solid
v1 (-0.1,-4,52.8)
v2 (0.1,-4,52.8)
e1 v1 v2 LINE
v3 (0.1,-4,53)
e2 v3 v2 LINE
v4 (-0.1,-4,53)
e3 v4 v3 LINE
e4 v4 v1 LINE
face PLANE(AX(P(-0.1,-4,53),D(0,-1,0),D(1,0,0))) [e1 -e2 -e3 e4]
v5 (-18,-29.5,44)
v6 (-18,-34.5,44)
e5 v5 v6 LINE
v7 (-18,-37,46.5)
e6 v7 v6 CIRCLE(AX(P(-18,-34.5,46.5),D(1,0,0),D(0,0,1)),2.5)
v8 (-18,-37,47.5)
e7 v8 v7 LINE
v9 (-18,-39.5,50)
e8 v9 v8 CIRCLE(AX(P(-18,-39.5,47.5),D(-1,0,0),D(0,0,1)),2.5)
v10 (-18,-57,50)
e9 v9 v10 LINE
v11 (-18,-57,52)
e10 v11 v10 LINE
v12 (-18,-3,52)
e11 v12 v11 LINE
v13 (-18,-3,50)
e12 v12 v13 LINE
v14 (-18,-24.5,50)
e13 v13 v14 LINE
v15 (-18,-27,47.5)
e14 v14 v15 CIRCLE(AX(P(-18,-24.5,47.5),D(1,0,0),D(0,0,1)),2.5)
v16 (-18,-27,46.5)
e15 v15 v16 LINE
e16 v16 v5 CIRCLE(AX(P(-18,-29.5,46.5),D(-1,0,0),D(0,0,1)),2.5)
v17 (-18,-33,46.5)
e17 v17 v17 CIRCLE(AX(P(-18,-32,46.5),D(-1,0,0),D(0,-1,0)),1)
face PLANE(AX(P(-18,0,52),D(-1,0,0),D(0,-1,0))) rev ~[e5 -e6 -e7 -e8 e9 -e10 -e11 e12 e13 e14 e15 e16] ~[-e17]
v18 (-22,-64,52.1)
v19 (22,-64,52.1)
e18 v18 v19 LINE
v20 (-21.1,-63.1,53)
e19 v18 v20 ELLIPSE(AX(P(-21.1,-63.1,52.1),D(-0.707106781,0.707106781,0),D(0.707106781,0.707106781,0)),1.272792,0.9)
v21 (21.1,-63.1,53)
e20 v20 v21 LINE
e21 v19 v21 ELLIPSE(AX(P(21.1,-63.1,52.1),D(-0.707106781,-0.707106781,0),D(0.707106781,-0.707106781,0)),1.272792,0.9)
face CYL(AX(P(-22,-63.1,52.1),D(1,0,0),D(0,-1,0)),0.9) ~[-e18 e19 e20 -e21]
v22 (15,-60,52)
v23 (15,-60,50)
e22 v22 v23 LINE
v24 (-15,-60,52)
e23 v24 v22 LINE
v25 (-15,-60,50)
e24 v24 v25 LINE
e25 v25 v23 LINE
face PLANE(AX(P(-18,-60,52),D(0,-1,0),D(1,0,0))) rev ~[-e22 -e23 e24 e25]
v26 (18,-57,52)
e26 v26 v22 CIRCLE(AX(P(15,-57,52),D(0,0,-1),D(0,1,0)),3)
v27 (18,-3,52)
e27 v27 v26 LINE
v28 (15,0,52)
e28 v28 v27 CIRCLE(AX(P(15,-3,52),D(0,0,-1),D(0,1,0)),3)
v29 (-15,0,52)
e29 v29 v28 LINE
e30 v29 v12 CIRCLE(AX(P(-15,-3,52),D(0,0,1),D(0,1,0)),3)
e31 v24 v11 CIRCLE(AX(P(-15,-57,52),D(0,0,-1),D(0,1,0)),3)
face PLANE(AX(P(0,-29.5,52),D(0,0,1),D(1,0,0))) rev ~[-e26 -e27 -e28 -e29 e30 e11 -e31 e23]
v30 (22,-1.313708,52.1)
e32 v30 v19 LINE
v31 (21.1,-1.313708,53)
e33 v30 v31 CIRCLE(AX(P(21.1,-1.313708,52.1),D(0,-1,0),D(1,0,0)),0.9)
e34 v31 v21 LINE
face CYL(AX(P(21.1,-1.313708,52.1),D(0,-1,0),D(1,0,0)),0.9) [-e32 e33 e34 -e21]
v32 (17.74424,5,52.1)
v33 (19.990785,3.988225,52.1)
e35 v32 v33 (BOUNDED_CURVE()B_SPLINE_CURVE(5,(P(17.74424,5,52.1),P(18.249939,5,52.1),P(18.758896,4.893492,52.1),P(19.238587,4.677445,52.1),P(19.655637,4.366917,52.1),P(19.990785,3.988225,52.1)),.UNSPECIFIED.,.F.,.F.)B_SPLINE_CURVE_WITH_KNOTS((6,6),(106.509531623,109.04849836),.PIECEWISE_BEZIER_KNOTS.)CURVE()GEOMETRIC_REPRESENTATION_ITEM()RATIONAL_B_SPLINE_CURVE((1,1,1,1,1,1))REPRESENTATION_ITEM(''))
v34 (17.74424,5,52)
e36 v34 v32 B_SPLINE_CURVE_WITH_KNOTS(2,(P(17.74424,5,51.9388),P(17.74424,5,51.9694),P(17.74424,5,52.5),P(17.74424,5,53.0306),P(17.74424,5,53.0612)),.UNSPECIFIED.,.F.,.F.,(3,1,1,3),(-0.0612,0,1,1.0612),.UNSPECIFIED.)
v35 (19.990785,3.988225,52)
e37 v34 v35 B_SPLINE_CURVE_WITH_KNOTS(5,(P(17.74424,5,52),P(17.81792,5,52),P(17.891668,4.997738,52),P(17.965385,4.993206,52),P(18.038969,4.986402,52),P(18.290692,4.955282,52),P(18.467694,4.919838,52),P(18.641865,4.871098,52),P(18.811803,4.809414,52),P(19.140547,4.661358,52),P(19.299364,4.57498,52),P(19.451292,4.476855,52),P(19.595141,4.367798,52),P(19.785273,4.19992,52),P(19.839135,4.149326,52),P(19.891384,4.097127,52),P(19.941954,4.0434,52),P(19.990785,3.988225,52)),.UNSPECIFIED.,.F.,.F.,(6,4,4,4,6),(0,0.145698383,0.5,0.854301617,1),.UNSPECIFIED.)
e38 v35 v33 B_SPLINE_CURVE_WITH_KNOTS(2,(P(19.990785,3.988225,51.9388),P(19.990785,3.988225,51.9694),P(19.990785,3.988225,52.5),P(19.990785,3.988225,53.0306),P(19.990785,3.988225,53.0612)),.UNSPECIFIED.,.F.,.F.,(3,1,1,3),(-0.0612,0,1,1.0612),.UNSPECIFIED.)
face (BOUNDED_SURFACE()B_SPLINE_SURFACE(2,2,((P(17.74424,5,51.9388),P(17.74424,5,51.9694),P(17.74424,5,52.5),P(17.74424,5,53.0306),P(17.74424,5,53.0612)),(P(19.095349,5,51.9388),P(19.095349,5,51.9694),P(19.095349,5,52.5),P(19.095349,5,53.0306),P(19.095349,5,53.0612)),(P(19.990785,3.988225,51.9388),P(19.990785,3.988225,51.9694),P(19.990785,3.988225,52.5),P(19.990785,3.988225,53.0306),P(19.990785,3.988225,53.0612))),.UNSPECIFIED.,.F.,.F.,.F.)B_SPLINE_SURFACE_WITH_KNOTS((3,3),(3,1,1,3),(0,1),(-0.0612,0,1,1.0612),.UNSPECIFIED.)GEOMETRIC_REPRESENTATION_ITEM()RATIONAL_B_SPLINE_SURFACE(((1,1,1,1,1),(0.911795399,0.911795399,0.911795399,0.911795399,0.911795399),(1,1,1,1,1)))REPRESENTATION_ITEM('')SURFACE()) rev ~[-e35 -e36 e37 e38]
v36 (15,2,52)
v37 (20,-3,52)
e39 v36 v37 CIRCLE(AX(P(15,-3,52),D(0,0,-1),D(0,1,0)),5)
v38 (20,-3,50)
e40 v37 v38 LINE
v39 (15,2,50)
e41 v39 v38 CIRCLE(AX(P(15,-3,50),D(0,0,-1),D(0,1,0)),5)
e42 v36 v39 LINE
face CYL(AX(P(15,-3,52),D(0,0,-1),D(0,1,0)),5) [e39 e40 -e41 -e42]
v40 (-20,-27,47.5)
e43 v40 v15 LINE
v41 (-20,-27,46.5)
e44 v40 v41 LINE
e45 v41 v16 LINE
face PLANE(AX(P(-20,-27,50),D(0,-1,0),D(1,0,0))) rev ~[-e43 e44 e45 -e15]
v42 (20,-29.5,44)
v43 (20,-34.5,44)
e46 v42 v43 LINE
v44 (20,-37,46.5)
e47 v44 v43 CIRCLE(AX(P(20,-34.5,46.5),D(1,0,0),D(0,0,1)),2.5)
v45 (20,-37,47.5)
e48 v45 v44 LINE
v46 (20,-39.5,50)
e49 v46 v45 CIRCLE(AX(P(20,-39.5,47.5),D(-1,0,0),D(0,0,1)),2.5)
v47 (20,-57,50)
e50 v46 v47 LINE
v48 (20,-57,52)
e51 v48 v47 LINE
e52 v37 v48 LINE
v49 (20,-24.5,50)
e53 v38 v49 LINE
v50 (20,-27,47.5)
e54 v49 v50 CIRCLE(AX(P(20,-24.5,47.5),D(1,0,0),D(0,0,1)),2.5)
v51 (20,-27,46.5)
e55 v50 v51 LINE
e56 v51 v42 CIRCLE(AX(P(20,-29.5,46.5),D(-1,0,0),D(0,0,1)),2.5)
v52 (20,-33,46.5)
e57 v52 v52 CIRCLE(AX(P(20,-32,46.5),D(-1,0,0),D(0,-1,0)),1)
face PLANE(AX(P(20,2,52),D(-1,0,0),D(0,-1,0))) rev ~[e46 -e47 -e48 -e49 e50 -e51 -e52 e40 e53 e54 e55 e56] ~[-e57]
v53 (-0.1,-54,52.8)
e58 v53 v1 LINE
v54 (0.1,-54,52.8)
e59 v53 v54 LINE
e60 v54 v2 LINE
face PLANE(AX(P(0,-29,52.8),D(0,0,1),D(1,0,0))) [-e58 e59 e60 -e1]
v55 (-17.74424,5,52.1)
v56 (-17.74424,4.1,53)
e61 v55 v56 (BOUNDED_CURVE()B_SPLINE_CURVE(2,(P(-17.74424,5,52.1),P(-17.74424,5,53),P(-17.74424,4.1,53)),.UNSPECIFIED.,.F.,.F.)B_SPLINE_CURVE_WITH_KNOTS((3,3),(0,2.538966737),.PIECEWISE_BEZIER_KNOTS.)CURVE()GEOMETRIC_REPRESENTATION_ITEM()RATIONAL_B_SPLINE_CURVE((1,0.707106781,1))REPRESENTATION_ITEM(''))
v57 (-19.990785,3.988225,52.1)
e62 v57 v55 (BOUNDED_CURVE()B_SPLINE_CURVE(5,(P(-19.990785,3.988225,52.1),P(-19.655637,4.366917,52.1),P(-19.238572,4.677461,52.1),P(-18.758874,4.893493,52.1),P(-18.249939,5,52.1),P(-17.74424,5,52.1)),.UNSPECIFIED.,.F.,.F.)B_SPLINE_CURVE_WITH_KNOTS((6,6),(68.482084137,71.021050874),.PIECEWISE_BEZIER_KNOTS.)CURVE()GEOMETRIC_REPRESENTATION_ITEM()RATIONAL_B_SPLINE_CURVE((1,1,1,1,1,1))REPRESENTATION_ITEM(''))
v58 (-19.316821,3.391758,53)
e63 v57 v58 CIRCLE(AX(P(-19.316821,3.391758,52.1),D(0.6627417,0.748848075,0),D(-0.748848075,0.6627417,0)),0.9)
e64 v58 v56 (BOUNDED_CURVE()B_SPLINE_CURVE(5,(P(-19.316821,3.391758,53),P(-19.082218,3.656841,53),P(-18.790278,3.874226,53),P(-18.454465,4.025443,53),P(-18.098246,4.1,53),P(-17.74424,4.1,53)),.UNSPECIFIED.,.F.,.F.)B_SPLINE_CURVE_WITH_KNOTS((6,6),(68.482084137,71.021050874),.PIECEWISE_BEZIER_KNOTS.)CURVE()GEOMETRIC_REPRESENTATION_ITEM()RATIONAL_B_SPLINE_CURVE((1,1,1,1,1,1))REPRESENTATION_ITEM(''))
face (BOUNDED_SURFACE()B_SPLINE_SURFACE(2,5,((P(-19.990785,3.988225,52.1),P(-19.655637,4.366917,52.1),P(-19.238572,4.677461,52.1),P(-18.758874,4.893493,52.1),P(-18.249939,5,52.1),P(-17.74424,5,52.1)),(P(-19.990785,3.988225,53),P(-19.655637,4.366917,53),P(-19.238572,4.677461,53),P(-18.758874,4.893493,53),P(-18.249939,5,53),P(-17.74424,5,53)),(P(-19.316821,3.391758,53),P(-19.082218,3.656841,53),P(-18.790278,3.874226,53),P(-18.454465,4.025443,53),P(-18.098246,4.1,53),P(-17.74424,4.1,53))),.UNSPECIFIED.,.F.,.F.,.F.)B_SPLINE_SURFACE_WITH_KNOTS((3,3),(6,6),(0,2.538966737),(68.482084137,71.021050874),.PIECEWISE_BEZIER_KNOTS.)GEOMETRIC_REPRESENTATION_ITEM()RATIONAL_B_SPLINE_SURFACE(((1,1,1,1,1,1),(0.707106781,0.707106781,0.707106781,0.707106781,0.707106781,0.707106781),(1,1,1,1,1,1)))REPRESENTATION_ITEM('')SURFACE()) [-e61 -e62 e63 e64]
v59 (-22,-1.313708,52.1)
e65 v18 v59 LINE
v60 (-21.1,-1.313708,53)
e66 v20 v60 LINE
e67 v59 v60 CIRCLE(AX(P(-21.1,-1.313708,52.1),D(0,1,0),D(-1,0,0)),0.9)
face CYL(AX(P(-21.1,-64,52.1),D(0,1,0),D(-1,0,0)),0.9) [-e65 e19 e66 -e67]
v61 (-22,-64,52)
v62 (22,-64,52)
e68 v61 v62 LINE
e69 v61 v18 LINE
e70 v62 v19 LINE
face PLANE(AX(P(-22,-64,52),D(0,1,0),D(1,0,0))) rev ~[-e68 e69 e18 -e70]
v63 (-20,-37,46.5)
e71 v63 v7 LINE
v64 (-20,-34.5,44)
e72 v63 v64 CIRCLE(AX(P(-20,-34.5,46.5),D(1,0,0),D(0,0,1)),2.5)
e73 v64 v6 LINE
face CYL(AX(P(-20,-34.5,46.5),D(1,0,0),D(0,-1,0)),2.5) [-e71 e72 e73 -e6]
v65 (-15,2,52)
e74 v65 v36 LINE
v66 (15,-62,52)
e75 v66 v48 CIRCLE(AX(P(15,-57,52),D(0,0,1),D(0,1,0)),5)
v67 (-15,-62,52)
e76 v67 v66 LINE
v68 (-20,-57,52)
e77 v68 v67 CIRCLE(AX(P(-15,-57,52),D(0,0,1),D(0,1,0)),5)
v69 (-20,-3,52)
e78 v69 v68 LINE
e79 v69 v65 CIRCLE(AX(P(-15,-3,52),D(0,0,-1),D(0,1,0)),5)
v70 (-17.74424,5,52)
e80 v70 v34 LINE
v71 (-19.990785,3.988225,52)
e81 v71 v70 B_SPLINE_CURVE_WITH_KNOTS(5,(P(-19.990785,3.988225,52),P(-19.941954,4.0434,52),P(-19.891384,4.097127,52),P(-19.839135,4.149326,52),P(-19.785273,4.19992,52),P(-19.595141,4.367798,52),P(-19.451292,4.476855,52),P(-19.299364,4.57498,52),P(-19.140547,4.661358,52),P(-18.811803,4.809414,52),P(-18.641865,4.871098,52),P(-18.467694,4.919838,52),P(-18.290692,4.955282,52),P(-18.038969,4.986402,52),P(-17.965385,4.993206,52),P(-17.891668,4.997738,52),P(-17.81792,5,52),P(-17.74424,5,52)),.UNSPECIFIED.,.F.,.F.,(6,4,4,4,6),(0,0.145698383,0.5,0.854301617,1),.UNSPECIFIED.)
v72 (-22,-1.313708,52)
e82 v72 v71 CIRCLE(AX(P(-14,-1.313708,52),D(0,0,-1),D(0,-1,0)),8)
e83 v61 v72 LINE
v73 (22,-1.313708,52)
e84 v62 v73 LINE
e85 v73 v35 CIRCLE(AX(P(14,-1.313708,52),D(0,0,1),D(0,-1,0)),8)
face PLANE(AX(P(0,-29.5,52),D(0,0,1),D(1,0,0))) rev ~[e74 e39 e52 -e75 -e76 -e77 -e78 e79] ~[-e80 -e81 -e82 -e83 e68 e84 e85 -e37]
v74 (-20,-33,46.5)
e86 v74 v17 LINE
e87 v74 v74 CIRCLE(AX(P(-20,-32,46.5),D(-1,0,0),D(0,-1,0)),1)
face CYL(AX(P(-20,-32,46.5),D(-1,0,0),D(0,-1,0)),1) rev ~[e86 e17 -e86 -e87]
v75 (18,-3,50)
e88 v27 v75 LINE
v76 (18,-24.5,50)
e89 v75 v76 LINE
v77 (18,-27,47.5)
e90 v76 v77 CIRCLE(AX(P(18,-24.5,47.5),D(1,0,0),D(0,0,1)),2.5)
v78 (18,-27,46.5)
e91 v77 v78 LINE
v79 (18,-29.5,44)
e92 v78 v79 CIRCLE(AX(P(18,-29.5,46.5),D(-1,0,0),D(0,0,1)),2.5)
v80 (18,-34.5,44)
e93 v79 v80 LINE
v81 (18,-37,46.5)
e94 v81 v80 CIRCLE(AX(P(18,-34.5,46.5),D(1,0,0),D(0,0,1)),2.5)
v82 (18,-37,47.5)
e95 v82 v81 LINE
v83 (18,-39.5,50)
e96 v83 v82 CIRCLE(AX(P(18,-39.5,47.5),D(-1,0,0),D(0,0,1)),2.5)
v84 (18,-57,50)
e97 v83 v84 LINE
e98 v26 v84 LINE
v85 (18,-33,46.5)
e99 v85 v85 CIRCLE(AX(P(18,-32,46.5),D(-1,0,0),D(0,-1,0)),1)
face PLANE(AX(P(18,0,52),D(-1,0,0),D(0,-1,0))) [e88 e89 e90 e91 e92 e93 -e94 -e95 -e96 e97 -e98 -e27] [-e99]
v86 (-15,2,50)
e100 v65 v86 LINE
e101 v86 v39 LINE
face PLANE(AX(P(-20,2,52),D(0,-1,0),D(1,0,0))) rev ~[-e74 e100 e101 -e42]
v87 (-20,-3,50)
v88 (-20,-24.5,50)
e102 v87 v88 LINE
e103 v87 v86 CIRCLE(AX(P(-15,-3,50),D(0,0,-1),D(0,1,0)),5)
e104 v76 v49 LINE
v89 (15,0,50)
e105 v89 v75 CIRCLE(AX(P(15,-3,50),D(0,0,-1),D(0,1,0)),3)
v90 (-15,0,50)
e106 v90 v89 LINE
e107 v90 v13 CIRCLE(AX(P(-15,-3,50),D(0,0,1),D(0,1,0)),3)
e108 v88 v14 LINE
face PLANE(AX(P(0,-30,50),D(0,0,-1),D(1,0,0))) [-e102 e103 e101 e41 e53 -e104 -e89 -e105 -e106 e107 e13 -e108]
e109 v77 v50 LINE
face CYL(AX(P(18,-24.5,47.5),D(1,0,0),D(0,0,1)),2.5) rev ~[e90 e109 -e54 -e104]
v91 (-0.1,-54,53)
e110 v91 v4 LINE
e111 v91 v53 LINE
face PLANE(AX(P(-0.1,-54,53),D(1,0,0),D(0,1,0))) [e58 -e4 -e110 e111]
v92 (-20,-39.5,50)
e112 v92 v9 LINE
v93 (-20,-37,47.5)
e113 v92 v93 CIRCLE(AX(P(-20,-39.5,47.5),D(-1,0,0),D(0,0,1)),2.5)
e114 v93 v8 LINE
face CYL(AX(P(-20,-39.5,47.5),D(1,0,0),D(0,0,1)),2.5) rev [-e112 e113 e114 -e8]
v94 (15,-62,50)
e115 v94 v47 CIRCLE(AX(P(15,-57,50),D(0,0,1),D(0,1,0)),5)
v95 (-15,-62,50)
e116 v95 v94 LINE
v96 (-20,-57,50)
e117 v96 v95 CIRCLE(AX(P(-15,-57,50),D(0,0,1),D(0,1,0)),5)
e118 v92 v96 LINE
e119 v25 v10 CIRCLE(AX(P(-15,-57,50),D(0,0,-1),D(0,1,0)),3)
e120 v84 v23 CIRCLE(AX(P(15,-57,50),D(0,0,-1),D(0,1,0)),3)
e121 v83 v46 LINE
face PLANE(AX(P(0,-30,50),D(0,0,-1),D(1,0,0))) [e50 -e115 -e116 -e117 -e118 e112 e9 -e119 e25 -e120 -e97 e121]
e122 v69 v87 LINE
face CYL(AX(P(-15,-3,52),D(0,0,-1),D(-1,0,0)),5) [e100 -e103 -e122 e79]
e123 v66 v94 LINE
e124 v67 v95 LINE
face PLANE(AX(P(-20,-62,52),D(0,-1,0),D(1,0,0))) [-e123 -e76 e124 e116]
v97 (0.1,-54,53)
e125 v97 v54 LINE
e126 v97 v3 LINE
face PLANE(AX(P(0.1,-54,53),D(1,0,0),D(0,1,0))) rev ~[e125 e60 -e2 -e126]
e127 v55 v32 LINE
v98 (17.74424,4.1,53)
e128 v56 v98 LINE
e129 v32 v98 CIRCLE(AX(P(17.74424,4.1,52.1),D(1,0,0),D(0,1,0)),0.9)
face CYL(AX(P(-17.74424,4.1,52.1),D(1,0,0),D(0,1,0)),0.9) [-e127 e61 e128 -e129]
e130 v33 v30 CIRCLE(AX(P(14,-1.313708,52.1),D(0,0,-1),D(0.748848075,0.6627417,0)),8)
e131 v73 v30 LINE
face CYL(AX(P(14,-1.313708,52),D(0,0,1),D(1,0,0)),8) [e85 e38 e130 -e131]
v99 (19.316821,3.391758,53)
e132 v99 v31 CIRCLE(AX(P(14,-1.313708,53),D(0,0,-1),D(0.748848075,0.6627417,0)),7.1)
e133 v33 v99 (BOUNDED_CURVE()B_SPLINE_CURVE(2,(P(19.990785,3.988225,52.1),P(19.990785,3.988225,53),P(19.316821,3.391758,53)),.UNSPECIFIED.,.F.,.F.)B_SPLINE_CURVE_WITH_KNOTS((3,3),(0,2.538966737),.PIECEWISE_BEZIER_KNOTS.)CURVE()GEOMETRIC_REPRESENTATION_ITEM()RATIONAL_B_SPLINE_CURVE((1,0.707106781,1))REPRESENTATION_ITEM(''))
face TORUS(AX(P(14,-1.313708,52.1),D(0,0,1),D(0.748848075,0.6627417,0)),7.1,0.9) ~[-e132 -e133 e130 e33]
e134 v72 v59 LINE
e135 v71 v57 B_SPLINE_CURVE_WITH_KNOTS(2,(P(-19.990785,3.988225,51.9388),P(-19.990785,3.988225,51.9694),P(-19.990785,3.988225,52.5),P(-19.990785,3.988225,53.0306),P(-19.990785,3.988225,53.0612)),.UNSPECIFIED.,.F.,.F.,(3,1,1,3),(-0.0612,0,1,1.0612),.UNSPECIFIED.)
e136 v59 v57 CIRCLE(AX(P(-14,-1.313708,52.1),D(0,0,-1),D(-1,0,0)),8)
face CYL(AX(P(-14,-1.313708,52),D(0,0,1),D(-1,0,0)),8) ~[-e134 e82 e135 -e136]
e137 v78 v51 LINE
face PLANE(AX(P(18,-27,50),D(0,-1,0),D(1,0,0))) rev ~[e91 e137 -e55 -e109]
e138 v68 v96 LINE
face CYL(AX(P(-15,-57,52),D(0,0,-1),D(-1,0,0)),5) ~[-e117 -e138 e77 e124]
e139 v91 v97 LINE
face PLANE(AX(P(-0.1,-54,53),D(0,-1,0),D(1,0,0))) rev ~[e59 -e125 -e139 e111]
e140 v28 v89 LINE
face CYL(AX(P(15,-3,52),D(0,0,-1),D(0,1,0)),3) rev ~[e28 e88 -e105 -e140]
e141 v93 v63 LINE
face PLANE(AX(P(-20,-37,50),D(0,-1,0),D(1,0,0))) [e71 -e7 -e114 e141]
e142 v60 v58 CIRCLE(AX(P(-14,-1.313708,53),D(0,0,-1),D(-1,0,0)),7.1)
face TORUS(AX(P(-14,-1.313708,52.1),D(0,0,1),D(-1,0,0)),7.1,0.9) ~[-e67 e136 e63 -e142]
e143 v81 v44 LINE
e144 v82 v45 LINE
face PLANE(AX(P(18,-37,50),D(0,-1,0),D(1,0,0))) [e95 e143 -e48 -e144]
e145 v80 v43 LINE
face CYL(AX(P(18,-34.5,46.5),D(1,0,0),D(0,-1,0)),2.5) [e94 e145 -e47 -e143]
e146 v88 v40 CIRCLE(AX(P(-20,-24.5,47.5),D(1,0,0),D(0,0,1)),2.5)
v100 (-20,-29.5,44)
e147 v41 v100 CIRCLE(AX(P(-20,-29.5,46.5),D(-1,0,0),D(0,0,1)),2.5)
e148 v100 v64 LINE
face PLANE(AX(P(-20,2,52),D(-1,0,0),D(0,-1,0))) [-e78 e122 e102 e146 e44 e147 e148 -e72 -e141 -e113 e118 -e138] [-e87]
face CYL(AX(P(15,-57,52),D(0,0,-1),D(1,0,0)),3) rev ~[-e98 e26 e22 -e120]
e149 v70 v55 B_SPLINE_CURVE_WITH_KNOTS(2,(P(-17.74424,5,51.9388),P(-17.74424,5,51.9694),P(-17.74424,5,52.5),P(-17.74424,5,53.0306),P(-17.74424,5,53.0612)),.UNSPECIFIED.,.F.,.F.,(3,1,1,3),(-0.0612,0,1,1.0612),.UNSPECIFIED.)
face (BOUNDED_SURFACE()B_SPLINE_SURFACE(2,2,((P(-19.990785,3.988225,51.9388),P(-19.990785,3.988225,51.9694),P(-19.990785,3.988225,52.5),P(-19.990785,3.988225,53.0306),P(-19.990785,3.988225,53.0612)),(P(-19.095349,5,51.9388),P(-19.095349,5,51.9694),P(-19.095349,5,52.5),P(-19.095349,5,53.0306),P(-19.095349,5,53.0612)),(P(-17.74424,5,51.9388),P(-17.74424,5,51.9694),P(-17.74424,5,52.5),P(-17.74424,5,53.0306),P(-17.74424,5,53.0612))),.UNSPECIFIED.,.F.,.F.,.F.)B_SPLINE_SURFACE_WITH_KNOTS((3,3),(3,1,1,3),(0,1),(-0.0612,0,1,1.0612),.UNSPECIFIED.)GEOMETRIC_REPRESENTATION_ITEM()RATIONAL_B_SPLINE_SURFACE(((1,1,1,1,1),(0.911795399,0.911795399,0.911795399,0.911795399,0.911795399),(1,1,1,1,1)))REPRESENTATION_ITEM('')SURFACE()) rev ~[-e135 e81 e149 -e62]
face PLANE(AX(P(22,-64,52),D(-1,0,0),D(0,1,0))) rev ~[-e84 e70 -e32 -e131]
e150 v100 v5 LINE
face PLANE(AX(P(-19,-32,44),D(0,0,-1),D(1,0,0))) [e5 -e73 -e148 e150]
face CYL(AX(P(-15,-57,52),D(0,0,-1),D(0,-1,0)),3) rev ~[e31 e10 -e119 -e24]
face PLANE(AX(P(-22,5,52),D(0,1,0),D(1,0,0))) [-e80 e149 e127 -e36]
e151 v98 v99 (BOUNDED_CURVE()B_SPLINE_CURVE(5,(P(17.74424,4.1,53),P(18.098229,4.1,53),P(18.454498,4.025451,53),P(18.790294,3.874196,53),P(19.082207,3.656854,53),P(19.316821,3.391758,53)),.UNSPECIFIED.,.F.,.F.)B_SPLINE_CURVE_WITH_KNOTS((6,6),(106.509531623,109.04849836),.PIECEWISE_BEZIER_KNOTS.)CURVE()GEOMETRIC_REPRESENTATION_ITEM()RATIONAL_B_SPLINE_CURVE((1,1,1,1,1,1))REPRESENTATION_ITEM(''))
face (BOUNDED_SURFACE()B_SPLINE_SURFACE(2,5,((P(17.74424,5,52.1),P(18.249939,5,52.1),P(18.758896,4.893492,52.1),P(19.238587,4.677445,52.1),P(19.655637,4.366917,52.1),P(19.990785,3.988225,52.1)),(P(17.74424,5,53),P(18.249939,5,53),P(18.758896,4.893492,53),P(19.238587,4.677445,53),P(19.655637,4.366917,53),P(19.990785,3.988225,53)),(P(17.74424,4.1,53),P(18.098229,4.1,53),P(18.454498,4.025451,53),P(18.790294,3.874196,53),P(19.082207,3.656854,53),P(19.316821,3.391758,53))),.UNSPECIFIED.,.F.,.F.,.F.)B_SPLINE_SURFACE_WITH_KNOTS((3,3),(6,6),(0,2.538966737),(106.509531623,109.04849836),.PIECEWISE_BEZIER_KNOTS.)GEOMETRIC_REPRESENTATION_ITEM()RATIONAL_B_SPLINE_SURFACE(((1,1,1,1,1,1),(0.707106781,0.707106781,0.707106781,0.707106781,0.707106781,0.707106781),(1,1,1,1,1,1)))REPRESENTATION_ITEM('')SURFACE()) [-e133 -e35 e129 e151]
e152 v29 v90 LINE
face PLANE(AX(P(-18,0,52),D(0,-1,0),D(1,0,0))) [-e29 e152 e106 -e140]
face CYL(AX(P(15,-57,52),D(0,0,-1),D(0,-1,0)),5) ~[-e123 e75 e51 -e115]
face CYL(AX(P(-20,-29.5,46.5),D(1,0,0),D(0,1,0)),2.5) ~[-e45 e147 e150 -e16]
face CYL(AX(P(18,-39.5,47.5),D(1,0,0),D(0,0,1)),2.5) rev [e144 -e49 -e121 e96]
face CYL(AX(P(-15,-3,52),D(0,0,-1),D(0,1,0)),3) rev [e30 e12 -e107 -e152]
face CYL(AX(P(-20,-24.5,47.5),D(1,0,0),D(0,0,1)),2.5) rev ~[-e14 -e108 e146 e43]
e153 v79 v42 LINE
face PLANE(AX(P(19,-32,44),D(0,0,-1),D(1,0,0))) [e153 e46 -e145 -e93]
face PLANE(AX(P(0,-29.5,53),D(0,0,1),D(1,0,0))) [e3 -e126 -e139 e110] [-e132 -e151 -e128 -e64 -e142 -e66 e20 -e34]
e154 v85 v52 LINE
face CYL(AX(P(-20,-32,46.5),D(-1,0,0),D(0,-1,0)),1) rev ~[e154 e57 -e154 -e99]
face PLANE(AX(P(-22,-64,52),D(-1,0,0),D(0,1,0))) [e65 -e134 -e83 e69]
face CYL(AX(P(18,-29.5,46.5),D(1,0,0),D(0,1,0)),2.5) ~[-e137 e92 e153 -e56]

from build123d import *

# Parameters (mm, degrees)
SKETCH013_W     = 44
SKETCH013_H     = 69
PAD006_DEPTH    = 1
SKETCH014_W     = 40
SKETCH014_H     = 64
SKETCH014_W_2   = 36
SKETCH014_H_2   = 60
PAD007_DEPTH    = 2
FILLET005_R     = 3
FILLET006_R     = 5
CHAMFER002_SIZE = 3
FILLET007_R     = 8
FILLET008_R     = 3
FILLET009_R     = 0.9
SKETCH015_W     = 2
SKETCH015_H     = 10
PAD008_DEPTH    = 6
FILLET011_R     = 2.5
SKETCH016_R     = 1
POCKET002_DEPTH = 41
SKETCH024_W     = 0.2
SKETCH024_H     = 50
POCKET007_DEPTH = 0.2


with BuildPart() as part:
    # Sketch013 → Pad006 (new body)
    with BuildSketch(Plane.XY):
        with Locations((0, 2.5)):
            Rectangle(SKETCH013_W, SKETCH013_H)
    extrude(amount=PAD006_DEPTH)

    # Sketch014 (on Face5 of Pad006) → Pad007 (join)
    with BuildSketch(Plane(origin=(0, 0, 0), x_dir=(1, 0, 0), z_dir=(0, 0, -1))):
        with Locations((0, -2)):
            Rectangle(SKETCH014_W, SKETCH014_H)
        with Locations((0, -2)):
            Rectangle(SKETCH014_W_2, SKETCH014_H_2, mode=Mode.SUBTRACT)
    extrude(amount=PAD007_DEPTH)

    # Fillet005
    fillet005_edges = [part.edges().sort_by_distance(p)[0] for p in [
        (18, 32, -1),
        (-18, 32, -1),
        (-18, -28, -1),
        (18, -28, -1),
    ]]
    fillet(fillet005_edges, radius=FILLET005_R)

    # Fillet006
    fillet006_edges = [part.edges().sort_by_distance(p)[0] for p in [
        (20, -30, -1),
        (-20, -30, -1),
        (-20, 34, -1),
        (20, 34, -1),
    ]]
    fillet(fillet006_edges, radius=FILLET006_R)

    # Chamfer002
    chamfer002_edges = [part.edges().sort_by_distance(p)[0] for p in [
        (22, 37, 0.5),
        (-22, 37, 0.5),
    ]]
    chamfer(chamfer002_edges, length=CHAMFER002_SIZE)

    # Fillet007
    fillet007_edges = [part.edges().sort_by_distance(p)[0] for p in [
        (-22, 34, 0.5),
        (22, 34, 0.5),
    ]]
    fillet(fillet007_edges, radius=FILLET007_R)

    # Fillet008
    fillet008_edges = [part.edges().sort_by_distance(p)[0] for p in [
        (-19, 37, 0.5),
        (19, 37, 0.5),
    ]]
    fillet(fillet008_edges, radius=FILLET008_R)

    # Fillet009
    fillet009_edges = [part.edges().sort_by_distance(p)[0] for p in [
        (-21.480851, 33.521227, 1),
        (-18.976175, 36.735386, 1),
        (-22, -0.656854, 1),
        (0, 37, 1),
        (0, -32, 1),
        (18.976175, 36.735386, 1),
        (22, -0.656854, 1),
        (21.480851, 33.521227, 1),
    ]]
    fillet(fillet009_edges, radius=FILLET009_R)

    # Sketch015 (on Face27 of Fillet009) → Pad008 (join)
    with BuildSketch(Plane(origin=(0, 0, -2), x_dir=(1, 0, 0), z_dir=(0, 0, -1))):
        with Locations((-19, 0)):
            Rectangle(SKETCH015_W, SKETCH015_H)
        with Locations((19, 0)):
            Rectangle(SKETCH015_W, SKETCH015_H)
    extrude(amount=PAD008_DEPTH)

    # Fillet011
    fillet011_edges = [part.edges().sort_by_distance(p)[0] for p in [
        (-19, -5, -2),
        (-19, -5, -8),
        (19, -5, -2),
        (19, -5, -8),
        (-19, 5, -8),
        (-19, 5, -2),
        (19, 5, -8),
        (19, 5, -2),
    ]]
    fillet(fillet011_edges, radius=FILLET011_R)

    # Sketch016 (on Face3 of Fillet011) → Pocket002 (cut)
    with BuildSketch(Plane(origin=(-20, 0, 0), x_dir=(0, -1, 0), z_dir=(-1, 0, 0))):
        with Locations((0, -5.5)):
            Circle(SKETCH016_R)
    extrude(amount=-POCKET002_DEPTH, mode=Mode.SUBTRACT)

    # Sketch024 (on Face57 of Pocket002) → Pocket007 (cut)
    with BuildSketch(Plane.XY.offset(1)):
        with Locations((0, 3)):
            Rectangle(SKETCH024_W, SKETCH024_H)
    extrude(amount=-POCKET007_DEPTH, mode=Mode.SUBTRACT)


with BuildPart() as part_1:
    # Body003 placement: moved
    add(part.part.moved(Location((0, -32, 52))))


solid = part_1.part
